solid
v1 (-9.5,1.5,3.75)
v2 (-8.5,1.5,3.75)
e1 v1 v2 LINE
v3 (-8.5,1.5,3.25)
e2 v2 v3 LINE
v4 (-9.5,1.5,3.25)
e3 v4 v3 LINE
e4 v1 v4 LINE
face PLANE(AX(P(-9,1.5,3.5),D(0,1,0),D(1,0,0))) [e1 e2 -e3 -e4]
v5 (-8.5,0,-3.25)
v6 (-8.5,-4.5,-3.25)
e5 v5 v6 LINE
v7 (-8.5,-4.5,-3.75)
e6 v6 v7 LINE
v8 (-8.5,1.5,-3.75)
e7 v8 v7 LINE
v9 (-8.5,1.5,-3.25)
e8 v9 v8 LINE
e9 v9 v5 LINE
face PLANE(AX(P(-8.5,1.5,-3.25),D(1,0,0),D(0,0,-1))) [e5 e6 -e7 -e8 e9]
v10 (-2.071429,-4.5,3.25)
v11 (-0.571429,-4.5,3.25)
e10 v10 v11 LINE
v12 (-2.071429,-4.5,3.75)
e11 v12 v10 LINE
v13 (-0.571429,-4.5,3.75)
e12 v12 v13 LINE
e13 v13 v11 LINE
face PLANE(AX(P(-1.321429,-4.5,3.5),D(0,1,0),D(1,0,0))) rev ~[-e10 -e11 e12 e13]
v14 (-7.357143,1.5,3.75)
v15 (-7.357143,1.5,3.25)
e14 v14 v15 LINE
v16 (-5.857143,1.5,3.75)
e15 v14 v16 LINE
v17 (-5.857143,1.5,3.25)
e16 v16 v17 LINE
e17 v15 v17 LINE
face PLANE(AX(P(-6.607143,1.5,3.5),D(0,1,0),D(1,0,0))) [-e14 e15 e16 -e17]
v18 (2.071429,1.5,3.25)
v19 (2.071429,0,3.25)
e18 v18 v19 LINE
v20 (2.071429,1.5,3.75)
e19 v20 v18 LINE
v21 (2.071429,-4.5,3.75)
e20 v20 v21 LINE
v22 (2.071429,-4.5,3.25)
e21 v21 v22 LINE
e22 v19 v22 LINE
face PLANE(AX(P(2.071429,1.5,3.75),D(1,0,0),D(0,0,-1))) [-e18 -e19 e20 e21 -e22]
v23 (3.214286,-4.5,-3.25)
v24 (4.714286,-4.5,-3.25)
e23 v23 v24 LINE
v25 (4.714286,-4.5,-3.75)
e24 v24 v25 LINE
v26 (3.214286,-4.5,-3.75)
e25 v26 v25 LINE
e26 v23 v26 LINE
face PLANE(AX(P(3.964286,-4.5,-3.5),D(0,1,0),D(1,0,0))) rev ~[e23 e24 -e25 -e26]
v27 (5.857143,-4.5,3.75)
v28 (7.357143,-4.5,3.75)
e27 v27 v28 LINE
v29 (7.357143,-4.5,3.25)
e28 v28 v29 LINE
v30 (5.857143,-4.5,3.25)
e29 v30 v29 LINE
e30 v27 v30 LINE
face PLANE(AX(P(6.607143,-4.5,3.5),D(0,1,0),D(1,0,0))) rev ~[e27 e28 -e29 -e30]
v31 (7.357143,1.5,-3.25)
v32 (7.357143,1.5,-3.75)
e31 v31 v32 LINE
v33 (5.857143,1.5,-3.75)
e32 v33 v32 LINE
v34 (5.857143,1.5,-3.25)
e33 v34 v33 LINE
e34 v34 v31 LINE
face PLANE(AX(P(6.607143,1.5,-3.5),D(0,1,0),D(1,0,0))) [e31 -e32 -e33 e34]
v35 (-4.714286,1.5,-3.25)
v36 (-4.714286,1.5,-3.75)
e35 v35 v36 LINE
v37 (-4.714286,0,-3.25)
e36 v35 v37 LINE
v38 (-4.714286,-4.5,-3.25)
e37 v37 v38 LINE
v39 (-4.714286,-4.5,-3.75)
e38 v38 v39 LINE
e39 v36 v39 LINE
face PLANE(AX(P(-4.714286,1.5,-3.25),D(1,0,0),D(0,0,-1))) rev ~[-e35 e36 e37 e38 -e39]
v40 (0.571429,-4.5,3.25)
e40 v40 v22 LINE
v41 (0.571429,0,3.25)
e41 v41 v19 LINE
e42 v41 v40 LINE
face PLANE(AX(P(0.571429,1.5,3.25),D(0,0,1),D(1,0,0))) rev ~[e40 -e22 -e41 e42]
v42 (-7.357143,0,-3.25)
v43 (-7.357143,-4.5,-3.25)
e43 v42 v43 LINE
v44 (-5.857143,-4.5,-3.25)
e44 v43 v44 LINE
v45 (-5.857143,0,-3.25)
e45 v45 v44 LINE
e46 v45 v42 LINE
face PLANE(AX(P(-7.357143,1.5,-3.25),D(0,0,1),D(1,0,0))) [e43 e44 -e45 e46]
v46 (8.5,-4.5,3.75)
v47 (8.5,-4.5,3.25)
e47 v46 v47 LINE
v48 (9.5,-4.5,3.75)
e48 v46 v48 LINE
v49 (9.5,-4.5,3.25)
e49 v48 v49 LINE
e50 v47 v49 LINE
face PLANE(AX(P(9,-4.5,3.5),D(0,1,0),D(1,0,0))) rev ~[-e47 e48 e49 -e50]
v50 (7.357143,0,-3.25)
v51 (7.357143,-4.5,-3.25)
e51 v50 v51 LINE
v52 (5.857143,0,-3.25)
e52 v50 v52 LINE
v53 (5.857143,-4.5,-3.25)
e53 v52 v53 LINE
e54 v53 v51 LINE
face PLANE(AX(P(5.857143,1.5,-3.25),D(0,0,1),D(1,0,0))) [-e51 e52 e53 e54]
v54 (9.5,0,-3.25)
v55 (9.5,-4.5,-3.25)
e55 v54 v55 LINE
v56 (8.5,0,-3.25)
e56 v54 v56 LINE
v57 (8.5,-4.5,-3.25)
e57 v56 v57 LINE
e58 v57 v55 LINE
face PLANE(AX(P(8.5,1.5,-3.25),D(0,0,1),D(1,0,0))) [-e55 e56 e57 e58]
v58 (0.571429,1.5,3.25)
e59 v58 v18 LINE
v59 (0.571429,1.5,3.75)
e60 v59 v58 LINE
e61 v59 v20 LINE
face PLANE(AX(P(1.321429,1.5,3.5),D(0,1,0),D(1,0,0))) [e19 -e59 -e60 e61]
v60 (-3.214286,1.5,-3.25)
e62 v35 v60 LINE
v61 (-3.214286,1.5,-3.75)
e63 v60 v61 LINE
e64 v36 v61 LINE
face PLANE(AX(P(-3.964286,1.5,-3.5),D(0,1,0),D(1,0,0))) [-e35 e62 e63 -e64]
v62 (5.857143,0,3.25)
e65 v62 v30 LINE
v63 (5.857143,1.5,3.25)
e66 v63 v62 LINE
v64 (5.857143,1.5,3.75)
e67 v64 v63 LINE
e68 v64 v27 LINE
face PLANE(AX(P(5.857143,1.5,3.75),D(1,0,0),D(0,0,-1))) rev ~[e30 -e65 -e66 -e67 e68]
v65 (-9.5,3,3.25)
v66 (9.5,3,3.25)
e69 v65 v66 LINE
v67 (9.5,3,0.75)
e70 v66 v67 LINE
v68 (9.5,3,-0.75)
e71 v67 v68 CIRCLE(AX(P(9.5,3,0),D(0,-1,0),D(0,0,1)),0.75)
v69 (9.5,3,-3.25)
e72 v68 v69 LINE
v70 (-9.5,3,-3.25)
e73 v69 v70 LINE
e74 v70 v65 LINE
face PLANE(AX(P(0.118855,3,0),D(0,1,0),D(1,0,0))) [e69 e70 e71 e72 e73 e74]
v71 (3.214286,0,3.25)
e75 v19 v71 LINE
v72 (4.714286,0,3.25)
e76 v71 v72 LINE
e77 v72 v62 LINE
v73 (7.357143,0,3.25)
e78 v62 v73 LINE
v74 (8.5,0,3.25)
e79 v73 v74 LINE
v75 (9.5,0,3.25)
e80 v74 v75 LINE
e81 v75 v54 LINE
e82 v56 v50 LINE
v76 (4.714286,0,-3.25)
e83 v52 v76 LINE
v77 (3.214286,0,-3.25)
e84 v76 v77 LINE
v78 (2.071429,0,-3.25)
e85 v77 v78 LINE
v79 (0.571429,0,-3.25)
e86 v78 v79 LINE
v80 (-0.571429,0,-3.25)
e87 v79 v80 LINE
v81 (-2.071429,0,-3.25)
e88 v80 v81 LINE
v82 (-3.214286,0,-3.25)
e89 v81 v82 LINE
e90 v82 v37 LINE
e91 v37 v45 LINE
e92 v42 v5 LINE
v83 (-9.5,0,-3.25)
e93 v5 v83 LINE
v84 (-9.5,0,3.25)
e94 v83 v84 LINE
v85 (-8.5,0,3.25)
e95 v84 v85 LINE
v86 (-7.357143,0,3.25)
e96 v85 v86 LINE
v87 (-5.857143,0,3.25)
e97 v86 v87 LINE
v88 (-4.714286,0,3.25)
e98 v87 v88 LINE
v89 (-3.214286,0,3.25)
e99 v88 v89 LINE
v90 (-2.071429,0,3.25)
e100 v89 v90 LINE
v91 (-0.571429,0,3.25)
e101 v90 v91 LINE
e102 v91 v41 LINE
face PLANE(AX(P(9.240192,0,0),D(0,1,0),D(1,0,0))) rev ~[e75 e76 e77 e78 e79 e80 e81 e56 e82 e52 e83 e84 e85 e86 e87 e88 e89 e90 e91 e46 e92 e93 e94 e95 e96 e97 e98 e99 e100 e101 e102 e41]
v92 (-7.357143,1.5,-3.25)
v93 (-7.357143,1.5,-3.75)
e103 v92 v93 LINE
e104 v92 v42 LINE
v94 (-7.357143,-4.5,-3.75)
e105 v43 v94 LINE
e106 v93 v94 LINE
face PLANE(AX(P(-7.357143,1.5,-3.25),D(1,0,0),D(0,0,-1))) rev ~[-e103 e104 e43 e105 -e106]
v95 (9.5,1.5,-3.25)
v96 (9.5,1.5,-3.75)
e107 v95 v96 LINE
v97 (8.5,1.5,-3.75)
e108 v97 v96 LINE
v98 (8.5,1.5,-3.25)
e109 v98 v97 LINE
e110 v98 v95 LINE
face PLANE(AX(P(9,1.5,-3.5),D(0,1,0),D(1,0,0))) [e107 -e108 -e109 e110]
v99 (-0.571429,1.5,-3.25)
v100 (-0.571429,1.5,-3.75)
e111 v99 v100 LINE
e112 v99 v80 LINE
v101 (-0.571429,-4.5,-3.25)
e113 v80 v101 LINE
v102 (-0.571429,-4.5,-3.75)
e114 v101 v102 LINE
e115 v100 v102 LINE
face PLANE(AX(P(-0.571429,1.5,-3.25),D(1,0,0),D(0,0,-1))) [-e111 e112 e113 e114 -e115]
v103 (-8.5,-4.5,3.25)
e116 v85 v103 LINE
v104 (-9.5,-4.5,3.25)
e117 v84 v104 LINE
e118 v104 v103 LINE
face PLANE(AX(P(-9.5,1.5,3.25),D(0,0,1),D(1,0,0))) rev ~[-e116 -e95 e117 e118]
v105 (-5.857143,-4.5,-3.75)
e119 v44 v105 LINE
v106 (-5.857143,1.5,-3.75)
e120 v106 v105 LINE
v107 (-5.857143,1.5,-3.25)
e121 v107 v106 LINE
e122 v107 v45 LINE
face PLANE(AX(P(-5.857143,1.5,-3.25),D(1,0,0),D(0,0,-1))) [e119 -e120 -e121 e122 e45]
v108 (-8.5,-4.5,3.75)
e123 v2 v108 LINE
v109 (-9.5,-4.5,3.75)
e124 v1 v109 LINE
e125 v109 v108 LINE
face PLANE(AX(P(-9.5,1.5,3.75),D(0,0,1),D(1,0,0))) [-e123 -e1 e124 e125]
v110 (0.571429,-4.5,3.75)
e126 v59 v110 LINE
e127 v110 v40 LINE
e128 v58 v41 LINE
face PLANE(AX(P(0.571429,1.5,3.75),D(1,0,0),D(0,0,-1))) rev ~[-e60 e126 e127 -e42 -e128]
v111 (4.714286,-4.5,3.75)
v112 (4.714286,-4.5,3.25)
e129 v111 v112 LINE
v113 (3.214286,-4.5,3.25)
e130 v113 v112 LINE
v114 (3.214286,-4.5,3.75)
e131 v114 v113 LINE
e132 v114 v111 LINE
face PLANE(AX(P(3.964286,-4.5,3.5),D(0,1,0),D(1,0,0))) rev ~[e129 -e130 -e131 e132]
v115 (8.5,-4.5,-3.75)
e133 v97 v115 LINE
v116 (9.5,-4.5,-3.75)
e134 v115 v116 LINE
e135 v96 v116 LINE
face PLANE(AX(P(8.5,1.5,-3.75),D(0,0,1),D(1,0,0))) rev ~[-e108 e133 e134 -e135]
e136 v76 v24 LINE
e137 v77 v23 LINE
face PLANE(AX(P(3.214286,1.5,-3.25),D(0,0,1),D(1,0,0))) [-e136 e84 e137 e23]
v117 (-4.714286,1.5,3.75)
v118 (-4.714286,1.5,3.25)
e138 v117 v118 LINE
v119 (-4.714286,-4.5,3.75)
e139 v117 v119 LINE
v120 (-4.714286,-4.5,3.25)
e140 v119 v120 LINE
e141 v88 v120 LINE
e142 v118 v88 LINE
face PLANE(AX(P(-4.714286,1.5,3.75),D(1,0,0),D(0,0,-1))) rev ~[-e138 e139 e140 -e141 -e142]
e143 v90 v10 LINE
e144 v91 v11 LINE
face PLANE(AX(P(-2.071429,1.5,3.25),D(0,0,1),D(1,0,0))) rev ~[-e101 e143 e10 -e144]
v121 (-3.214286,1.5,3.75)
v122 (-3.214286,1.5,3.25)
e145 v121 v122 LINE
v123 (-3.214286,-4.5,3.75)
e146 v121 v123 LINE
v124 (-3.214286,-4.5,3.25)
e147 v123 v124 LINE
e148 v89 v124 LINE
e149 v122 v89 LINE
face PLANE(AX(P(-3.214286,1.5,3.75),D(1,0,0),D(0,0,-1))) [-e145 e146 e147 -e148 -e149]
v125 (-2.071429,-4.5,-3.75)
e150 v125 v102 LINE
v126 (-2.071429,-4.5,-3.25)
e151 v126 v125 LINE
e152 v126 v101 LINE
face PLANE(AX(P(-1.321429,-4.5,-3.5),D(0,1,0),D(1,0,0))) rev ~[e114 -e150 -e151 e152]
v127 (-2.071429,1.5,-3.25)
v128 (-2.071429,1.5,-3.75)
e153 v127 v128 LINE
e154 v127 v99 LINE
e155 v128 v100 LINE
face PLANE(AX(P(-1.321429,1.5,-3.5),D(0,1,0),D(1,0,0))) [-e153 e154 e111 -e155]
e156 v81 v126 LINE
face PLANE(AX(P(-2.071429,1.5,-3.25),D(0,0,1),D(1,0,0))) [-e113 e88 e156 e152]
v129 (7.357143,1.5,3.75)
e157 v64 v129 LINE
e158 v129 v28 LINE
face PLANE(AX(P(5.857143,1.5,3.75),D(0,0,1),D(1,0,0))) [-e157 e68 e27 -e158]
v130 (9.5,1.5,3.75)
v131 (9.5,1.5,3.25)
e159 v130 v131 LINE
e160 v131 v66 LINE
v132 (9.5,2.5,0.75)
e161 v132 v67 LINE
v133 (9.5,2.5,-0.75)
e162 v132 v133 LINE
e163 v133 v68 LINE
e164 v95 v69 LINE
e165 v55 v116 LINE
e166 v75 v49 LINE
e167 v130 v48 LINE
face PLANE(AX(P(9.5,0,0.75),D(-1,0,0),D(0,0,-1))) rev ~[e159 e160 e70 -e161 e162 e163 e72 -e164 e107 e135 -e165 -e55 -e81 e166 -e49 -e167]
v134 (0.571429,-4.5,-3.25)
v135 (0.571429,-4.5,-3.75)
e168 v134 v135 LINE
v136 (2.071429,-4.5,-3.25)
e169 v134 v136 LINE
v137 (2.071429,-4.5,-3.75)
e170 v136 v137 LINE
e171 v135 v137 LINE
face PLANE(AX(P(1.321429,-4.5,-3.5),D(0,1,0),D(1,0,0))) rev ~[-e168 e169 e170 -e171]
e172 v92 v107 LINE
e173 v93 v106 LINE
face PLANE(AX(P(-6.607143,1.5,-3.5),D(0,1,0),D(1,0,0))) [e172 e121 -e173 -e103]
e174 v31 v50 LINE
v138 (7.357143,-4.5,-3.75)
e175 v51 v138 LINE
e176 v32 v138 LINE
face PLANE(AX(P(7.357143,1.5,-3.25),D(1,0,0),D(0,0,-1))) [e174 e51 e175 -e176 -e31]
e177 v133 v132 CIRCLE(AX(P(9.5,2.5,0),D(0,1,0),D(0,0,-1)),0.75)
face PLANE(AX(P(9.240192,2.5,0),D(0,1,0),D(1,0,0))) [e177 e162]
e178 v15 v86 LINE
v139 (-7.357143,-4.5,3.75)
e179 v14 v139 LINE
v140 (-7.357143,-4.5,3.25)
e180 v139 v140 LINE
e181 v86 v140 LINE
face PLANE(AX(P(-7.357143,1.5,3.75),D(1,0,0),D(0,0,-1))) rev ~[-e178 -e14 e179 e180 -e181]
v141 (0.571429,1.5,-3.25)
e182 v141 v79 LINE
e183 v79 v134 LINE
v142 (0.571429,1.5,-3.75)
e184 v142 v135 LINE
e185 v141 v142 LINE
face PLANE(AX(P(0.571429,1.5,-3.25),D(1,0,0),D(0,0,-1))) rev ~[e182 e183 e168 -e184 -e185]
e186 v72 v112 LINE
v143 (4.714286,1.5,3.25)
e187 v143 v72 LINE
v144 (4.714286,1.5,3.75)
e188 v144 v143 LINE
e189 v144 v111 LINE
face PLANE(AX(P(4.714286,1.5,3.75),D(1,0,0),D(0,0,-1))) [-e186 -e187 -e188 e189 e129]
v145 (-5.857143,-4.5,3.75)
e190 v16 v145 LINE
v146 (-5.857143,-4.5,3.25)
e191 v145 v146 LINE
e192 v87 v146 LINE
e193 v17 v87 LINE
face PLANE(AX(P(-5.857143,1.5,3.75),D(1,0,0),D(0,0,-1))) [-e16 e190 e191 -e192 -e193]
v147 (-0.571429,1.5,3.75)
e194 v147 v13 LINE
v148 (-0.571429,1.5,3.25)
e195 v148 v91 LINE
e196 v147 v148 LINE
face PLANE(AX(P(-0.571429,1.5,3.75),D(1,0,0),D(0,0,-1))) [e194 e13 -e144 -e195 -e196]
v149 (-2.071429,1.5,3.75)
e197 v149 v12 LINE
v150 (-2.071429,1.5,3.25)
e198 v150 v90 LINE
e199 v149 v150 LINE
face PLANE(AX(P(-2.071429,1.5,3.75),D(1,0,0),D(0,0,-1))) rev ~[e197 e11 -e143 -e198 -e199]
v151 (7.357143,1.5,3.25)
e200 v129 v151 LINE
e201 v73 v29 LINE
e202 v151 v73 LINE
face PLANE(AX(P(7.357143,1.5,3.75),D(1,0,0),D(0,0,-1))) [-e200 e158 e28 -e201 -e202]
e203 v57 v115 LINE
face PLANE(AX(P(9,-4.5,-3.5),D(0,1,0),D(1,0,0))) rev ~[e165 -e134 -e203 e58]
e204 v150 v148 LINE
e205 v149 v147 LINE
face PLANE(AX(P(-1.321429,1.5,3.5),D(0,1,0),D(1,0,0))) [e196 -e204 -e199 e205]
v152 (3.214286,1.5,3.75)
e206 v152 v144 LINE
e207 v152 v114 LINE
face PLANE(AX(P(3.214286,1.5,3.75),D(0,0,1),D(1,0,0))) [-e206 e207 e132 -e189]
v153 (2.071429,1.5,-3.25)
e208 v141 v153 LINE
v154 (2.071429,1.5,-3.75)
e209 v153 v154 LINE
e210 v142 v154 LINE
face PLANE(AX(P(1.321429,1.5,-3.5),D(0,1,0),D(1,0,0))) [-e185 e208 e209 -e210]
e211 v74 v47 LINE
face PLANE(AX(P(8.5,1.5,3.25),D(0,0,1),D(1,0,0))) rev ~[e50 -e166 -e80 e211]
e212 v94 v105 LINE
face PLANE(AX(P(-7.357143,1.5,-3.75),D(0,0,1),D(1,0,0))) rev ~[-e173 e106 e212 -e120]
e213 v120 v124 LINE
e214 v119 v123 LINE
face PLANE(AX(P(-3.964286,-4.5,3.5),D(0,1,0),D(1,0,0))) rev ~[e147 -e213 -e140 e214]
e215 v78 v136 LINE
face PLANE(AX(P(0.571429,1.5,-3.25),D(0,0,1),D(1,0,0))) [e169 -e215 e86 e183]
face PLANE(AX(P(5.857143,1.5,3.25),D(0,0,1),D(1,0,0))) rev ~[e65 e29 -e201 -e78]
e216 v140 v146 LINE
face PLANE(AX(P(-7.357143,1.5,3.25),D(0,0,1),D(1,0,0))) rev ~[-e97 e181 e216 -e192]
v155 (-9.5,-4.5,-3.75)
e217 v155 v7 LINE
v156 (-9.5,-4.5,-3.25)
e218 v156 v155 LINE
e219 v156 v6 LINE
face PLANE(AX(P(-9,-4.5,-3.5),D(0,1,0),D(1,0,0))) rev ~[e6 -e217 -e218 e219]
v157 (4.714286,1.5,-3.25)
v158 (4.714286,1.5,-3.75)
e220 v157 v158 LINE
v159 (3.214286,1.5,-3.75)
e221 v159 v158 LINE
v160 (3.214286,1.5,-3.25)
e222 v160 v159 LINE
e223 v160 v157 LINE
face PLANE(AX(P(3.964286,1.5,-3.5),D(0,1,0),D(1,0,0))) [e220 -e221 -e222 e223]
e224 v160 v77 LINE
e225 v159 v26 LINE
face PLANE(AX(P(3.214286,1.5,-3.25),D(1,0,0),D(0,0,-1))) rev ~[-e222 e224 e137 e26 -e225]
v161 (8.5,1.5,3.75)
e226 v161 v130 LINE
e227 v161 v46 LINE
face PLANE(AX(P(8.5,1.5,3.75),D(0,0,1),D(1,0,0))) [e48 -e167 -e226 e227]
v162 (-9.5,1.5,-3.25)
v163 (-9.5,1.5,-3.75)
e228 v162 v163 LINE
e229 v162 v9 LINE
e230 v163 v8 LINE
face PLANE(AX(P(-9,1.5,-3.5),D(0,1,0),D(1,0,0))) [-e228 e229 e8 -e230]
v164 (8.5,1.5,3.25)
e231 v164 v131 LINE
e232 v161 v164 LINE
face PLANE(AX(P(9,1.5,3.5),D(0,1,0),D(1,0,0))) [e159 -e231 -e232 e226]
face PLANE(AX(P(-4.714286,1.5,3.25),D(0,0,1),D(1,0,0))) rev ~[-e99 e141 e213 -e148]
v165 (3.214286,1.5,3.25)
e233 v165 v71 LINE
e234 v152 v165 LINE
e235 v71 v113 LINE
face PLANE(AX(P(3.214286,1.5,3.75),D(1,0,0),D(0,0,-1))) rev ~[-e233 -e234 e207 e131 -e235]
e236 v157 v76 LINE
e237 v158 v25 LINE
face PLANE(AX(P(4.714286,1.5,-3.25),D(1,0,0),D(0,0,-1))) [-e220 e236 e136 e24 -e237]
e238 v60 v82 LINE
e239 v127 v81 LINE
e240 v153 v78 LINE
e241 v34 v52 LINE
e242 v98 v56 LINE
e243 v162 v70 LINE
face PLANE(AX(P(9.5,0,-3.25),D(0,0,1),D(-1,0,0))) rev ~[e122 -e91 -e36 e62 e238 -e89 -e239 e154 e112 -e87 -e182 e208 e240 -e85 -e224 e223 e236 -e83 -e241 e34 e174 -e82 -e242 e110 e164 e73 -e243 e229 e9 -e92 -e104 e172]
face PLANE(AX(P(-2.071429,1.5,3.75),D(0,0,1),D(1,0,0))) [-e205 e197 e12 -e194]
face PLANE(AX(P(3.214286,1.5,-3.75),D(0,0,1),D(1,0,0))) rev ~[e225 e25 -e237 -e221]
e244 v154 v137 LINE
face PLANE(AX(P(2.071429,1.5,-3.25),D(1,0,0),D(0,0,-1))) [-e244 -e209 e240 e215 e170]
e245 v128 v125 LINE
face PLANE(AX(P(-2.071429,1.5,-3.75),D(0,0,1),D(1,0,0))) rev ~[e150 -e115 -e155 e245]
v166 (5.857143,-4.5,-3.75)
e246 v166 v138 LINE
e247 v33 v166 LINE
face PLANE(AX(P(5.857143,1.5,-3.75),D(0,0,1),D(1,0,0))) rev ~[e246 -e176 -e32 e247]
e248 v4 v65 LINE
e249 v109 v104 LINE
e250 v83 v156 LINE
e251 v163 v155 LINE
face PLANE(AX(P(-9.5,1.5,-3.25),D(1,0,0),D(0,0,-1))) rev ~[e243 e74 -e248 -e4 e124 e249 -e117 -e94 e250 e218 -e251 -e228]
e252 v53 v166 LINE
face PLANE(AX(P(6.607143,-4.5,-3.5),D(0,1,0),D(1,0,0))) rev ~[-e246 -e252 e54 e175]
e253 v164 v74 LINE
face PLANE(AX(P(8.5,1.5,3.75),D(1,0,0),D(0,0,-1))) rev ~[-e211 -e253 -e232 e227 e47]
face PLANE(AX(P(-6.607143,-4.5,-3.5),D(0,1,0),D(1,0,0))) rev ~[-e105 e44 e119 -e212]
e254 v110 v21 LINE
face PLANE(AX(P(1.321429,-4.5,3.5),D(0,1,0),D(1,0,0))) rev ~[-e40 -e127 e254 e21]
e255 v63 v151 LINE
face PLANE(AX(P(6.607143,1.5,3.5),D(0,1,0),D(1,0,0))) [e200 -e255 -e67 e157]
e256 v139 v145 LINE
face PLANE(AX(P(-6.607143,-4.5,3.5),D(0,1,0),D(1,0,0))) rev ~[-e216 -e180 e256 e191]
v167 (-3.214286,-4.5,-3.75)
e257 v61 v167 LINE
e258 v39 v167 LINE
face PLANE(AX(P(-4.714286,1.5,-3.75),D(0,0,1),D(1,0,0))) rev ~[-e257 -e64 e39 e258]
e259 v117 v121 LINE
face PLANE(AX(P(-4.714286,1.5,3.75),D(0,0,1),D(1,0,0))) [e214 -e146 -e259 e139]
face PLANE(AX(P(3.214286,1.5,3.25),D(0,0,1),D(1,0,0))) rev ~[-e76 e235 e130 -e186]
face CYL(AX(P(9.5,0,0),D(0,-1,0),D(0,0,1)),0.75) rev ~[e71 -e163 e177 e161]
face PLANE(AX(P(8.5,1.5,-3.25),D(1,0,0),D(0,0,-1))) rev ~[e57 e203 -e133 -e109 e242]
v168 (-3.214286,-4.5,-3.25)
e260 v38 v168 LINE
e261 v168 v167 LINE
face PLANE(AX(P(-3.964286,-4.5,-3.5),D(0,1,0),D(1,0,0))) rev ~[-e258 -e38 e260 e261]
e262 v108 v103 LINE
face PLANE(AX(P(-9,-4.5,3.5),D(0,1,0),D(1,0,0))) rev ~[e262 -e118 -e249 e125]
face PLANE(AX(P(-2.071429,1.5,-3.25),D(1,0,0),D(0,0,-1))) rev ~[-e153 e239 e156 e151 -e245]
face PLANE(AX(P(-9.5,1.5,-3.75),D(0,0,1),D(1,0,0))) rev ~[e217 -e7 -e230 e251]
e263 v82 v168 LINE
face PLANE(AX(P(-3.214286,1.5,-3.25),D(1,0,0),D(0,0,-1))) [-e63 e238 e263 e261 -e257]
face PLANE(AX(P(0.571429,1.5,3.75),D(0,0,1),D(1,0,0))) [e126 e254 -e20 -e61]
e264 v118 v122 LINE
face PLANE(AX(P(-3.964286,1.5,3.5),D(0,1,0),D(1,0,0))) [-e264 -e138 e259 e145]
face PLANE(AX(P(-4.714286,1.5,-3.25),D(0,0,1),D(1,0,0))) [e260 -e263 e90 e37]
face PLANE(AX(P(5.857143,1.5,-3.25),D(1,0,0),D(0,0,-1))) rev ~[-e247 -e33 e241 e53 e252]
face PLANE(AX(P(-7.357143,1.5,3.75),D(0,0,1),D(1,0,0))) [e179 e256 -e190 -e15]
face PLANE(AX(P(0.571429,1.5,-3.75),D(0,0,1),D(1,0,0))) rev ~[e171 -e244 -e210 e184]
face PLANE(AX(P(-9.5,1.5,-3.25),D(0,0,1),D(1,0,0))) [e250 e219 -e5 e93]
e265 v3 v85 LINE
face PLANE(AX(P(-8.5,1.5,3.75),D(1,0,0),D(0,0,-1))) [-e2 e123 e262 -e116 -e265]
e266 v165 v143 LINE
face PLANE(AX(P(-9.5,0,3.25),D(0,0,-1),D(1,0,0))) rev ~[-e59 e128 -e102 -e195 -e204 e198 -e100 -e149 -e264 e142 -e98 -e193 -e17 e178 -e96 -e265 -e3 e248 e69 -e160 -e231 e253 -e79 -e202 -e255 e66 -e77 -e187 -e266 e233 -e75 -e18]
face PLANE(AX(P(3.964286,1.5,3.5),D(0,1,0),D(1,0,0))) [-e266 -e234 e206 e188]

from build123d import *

# Parameters (mm, degrees)
EXTRUDE_1_DEPTH = 3
EXTRUDE_2_DEPTH = 2.5
EXTRUDE_START   = 1.5
SKETCH_1_4_W    = 1
SKETCH_1_4_H    = 0.5
SKETCH_1_4_W_2  = 1.5
EXTRUDE_3_DEPTH = 6


with BuildPart() as part:
    # Эскиз1 → Бобышка-Вытянуть1 (new body)
    with BuildSketch(Plane(origin=(0, 0, 0), x_dir=(1, 0, 0), z_dir=(0, 1, 0))):
        with BuildLine():
            Line((-8.5, 3.25), (-9.5, 3.25))
            Line((-9.5, 3.25), (-9.5, -3.25))
            Line((-9.5, -3.25), (-8.5, -3.25))
            Line((-8.5, -3.25), (-7.357142857, -3.25))
            Line((-7.357142857, -3.25), (-5.857142857, -3.25))
            Line((-5.857142857, -3.25), (-4.714285714, -3.25))
            Line((-4.714285714, -3.25), (-3.214285714, -3.25))
            Line((-3.214285714, -3.25), (-2.071428571, -3.25))
            Line((-2.071428571, -3.25), (-0.571428571, -3.25))
            Line((-0.571428571, -3.25), (0.571428571, -3.25))
            Line((0.571428571, -3.25), (2.071428571, -3.25))
            Line((2.071428571, -3.25), (3.214285714, -3.25))
            Line((3.214285714, -3.25), (4.714285714, -3.25))
            Line((4.714285714, -3.25), (5.857142857, -3.25))
            Line((5.857142857, -3.25), (7.357142857, -3.25))
            Line((7.357142857, -3.25), (8.5, -3.25))
            Line((8.5, -3.25), (9.5, -3.25))
            Line((9.5, -3.25), (9.5, -0.75))
            ThreePointArc((9.5, -0.75), (8.75, 0), (9.5, 0.75))
            Line((9.5, 0.75), (9.5, 3.25))
            Line((9.5, 3.25), (8.5, 3.25))
            Line((8.5, 3.25), (7.357142857, 3.25))
            Line((7.357142857, 3.25), (5.857142857, 3.25))
            Line((5.857142857, 3.25), (4.714285714, 3.25))
            Line((4.714285714, 3.25), (3.214285714, 3.25))
            Line((3.214285714, 3.25), (2.071428571, 3.25))
            Line((2.071428571, 3.25), (0.571428571, 3.25))
            Line((0.571428571, 3.25), (-0.571428571, 3.25))
            Line((-0.571428571, 3.25), (-2.071428571, 3.25))
            Line((-2.071428571, 3.25), (-3.214285714, 3.25))
            Line((-3.214285714, 3.25), (-4.714285714, 3.25))
            Line((-4.714285714, 3.25), (-5.857142857, 3.25))
            Line((-5.857142857, 3.25), (-7.357142857, 3.25))
            Line((-7.357142857, 3.25), (-8.5, 3.25))
        make_face()
    extrude(amount=EXTRUDE_1_DEPTH)

    # Эскиз1<3> → Бобышка-Вытянуть2 (add)
    with BuildSketch(Plane(origin=(0, 0, 0), x_dir=(1, 0, 0), z_dir=(0, 1, 0))):
        with BuildLine():
            Line((9.5, -0.75), (9.5, 0.75))
            ThreePointArc((9.5, 0.75), (8.75, 0), (9.5, -0.75))
        make_face()
    extrude(amount=EXTRUDE_2_DEPTH)

    # Эскиз1<4> → Бобышка-Вытянуть3 (add)
    with BuildSketch(Plane(origin=(0, 0, 0), x_dir=(1, 0, 0), z_dir=(0, 1, 0)).offset(EXTRUDE_START)):
        with Locations((-9, 3.5)):
            Rectangle(SKETCH_1_4_W, SKETCH_1_4_H)
        with Locations((-9, -3.5)):
            Rectangle(SKETCH_1_4_W, SKETCH_1_4_H)
        with Locations((-6.607142857, 3.5)):
            Rectangle(SKETCH_1_4_W_2, SKETCH_1_4_H)
        with Locations((-6.607142857, -3.5)):
            Rectangle(SKETCH_1_4_W_2, SKETCH_1_4_H)
        with Locations((-3.964285714, 3.5)):
            Rectangle(SKETCH_1_4_W_2, SKETCH_1_4_H)
        with Locations((-3.964285714, -3.5)):
            Rectangle(SKETCH_1_4_W_2, SKETCH_1_4_H)
        with Locations((-1.321428571, 3.5)):
            Rectangle(SKETCH_1_4_W_2, SKETCH_1_4_H)
        with Locations((-1.321428571, -3.5)):
            Rectangle(SKETCH_1_4_W_2, SKETCH_1_4_H)
        with Locations((1.321428571, 3.5)):
            Rectangle(SKETCH_1_4_W_2, SKETCH_1_4_H)
        with Locations((1.321428571, -3.5)):
            Rectangle(SKETCH_1_4_W_2, SKETCH_1_4_H)
        with Locations((3.964285714, 3.5)):
            Rectangle(SKETCH_1_4_W_2, SKETCH_1_4_H)
        with Locations((3.964285714, -3.5)):
            Rectangle(SKETCH_1_4_W_2, SKETCH_1_4_H)
        with Locations((6.607142857, 3.5)):
            Rectangle(SKETCH_1_4_W_2, SKETCH_1_4_H)
        with Locations((6.607142857, -3.5)):
            Rectangle(SKETCH_1_4_W_2, SKETCH_1_4_H)
        with Locations((9, 3.5)):
            Rectangle(SKETCH_1_4_W, SKETCH_1_4_H)
        with Locations((9, -3.5)):
            Rectangle(SKETCH_1_4_W, SKETCH_1_4_H)
    extrude(amount=-EXTRUDE_3_DEPTH)


solid = part.part
